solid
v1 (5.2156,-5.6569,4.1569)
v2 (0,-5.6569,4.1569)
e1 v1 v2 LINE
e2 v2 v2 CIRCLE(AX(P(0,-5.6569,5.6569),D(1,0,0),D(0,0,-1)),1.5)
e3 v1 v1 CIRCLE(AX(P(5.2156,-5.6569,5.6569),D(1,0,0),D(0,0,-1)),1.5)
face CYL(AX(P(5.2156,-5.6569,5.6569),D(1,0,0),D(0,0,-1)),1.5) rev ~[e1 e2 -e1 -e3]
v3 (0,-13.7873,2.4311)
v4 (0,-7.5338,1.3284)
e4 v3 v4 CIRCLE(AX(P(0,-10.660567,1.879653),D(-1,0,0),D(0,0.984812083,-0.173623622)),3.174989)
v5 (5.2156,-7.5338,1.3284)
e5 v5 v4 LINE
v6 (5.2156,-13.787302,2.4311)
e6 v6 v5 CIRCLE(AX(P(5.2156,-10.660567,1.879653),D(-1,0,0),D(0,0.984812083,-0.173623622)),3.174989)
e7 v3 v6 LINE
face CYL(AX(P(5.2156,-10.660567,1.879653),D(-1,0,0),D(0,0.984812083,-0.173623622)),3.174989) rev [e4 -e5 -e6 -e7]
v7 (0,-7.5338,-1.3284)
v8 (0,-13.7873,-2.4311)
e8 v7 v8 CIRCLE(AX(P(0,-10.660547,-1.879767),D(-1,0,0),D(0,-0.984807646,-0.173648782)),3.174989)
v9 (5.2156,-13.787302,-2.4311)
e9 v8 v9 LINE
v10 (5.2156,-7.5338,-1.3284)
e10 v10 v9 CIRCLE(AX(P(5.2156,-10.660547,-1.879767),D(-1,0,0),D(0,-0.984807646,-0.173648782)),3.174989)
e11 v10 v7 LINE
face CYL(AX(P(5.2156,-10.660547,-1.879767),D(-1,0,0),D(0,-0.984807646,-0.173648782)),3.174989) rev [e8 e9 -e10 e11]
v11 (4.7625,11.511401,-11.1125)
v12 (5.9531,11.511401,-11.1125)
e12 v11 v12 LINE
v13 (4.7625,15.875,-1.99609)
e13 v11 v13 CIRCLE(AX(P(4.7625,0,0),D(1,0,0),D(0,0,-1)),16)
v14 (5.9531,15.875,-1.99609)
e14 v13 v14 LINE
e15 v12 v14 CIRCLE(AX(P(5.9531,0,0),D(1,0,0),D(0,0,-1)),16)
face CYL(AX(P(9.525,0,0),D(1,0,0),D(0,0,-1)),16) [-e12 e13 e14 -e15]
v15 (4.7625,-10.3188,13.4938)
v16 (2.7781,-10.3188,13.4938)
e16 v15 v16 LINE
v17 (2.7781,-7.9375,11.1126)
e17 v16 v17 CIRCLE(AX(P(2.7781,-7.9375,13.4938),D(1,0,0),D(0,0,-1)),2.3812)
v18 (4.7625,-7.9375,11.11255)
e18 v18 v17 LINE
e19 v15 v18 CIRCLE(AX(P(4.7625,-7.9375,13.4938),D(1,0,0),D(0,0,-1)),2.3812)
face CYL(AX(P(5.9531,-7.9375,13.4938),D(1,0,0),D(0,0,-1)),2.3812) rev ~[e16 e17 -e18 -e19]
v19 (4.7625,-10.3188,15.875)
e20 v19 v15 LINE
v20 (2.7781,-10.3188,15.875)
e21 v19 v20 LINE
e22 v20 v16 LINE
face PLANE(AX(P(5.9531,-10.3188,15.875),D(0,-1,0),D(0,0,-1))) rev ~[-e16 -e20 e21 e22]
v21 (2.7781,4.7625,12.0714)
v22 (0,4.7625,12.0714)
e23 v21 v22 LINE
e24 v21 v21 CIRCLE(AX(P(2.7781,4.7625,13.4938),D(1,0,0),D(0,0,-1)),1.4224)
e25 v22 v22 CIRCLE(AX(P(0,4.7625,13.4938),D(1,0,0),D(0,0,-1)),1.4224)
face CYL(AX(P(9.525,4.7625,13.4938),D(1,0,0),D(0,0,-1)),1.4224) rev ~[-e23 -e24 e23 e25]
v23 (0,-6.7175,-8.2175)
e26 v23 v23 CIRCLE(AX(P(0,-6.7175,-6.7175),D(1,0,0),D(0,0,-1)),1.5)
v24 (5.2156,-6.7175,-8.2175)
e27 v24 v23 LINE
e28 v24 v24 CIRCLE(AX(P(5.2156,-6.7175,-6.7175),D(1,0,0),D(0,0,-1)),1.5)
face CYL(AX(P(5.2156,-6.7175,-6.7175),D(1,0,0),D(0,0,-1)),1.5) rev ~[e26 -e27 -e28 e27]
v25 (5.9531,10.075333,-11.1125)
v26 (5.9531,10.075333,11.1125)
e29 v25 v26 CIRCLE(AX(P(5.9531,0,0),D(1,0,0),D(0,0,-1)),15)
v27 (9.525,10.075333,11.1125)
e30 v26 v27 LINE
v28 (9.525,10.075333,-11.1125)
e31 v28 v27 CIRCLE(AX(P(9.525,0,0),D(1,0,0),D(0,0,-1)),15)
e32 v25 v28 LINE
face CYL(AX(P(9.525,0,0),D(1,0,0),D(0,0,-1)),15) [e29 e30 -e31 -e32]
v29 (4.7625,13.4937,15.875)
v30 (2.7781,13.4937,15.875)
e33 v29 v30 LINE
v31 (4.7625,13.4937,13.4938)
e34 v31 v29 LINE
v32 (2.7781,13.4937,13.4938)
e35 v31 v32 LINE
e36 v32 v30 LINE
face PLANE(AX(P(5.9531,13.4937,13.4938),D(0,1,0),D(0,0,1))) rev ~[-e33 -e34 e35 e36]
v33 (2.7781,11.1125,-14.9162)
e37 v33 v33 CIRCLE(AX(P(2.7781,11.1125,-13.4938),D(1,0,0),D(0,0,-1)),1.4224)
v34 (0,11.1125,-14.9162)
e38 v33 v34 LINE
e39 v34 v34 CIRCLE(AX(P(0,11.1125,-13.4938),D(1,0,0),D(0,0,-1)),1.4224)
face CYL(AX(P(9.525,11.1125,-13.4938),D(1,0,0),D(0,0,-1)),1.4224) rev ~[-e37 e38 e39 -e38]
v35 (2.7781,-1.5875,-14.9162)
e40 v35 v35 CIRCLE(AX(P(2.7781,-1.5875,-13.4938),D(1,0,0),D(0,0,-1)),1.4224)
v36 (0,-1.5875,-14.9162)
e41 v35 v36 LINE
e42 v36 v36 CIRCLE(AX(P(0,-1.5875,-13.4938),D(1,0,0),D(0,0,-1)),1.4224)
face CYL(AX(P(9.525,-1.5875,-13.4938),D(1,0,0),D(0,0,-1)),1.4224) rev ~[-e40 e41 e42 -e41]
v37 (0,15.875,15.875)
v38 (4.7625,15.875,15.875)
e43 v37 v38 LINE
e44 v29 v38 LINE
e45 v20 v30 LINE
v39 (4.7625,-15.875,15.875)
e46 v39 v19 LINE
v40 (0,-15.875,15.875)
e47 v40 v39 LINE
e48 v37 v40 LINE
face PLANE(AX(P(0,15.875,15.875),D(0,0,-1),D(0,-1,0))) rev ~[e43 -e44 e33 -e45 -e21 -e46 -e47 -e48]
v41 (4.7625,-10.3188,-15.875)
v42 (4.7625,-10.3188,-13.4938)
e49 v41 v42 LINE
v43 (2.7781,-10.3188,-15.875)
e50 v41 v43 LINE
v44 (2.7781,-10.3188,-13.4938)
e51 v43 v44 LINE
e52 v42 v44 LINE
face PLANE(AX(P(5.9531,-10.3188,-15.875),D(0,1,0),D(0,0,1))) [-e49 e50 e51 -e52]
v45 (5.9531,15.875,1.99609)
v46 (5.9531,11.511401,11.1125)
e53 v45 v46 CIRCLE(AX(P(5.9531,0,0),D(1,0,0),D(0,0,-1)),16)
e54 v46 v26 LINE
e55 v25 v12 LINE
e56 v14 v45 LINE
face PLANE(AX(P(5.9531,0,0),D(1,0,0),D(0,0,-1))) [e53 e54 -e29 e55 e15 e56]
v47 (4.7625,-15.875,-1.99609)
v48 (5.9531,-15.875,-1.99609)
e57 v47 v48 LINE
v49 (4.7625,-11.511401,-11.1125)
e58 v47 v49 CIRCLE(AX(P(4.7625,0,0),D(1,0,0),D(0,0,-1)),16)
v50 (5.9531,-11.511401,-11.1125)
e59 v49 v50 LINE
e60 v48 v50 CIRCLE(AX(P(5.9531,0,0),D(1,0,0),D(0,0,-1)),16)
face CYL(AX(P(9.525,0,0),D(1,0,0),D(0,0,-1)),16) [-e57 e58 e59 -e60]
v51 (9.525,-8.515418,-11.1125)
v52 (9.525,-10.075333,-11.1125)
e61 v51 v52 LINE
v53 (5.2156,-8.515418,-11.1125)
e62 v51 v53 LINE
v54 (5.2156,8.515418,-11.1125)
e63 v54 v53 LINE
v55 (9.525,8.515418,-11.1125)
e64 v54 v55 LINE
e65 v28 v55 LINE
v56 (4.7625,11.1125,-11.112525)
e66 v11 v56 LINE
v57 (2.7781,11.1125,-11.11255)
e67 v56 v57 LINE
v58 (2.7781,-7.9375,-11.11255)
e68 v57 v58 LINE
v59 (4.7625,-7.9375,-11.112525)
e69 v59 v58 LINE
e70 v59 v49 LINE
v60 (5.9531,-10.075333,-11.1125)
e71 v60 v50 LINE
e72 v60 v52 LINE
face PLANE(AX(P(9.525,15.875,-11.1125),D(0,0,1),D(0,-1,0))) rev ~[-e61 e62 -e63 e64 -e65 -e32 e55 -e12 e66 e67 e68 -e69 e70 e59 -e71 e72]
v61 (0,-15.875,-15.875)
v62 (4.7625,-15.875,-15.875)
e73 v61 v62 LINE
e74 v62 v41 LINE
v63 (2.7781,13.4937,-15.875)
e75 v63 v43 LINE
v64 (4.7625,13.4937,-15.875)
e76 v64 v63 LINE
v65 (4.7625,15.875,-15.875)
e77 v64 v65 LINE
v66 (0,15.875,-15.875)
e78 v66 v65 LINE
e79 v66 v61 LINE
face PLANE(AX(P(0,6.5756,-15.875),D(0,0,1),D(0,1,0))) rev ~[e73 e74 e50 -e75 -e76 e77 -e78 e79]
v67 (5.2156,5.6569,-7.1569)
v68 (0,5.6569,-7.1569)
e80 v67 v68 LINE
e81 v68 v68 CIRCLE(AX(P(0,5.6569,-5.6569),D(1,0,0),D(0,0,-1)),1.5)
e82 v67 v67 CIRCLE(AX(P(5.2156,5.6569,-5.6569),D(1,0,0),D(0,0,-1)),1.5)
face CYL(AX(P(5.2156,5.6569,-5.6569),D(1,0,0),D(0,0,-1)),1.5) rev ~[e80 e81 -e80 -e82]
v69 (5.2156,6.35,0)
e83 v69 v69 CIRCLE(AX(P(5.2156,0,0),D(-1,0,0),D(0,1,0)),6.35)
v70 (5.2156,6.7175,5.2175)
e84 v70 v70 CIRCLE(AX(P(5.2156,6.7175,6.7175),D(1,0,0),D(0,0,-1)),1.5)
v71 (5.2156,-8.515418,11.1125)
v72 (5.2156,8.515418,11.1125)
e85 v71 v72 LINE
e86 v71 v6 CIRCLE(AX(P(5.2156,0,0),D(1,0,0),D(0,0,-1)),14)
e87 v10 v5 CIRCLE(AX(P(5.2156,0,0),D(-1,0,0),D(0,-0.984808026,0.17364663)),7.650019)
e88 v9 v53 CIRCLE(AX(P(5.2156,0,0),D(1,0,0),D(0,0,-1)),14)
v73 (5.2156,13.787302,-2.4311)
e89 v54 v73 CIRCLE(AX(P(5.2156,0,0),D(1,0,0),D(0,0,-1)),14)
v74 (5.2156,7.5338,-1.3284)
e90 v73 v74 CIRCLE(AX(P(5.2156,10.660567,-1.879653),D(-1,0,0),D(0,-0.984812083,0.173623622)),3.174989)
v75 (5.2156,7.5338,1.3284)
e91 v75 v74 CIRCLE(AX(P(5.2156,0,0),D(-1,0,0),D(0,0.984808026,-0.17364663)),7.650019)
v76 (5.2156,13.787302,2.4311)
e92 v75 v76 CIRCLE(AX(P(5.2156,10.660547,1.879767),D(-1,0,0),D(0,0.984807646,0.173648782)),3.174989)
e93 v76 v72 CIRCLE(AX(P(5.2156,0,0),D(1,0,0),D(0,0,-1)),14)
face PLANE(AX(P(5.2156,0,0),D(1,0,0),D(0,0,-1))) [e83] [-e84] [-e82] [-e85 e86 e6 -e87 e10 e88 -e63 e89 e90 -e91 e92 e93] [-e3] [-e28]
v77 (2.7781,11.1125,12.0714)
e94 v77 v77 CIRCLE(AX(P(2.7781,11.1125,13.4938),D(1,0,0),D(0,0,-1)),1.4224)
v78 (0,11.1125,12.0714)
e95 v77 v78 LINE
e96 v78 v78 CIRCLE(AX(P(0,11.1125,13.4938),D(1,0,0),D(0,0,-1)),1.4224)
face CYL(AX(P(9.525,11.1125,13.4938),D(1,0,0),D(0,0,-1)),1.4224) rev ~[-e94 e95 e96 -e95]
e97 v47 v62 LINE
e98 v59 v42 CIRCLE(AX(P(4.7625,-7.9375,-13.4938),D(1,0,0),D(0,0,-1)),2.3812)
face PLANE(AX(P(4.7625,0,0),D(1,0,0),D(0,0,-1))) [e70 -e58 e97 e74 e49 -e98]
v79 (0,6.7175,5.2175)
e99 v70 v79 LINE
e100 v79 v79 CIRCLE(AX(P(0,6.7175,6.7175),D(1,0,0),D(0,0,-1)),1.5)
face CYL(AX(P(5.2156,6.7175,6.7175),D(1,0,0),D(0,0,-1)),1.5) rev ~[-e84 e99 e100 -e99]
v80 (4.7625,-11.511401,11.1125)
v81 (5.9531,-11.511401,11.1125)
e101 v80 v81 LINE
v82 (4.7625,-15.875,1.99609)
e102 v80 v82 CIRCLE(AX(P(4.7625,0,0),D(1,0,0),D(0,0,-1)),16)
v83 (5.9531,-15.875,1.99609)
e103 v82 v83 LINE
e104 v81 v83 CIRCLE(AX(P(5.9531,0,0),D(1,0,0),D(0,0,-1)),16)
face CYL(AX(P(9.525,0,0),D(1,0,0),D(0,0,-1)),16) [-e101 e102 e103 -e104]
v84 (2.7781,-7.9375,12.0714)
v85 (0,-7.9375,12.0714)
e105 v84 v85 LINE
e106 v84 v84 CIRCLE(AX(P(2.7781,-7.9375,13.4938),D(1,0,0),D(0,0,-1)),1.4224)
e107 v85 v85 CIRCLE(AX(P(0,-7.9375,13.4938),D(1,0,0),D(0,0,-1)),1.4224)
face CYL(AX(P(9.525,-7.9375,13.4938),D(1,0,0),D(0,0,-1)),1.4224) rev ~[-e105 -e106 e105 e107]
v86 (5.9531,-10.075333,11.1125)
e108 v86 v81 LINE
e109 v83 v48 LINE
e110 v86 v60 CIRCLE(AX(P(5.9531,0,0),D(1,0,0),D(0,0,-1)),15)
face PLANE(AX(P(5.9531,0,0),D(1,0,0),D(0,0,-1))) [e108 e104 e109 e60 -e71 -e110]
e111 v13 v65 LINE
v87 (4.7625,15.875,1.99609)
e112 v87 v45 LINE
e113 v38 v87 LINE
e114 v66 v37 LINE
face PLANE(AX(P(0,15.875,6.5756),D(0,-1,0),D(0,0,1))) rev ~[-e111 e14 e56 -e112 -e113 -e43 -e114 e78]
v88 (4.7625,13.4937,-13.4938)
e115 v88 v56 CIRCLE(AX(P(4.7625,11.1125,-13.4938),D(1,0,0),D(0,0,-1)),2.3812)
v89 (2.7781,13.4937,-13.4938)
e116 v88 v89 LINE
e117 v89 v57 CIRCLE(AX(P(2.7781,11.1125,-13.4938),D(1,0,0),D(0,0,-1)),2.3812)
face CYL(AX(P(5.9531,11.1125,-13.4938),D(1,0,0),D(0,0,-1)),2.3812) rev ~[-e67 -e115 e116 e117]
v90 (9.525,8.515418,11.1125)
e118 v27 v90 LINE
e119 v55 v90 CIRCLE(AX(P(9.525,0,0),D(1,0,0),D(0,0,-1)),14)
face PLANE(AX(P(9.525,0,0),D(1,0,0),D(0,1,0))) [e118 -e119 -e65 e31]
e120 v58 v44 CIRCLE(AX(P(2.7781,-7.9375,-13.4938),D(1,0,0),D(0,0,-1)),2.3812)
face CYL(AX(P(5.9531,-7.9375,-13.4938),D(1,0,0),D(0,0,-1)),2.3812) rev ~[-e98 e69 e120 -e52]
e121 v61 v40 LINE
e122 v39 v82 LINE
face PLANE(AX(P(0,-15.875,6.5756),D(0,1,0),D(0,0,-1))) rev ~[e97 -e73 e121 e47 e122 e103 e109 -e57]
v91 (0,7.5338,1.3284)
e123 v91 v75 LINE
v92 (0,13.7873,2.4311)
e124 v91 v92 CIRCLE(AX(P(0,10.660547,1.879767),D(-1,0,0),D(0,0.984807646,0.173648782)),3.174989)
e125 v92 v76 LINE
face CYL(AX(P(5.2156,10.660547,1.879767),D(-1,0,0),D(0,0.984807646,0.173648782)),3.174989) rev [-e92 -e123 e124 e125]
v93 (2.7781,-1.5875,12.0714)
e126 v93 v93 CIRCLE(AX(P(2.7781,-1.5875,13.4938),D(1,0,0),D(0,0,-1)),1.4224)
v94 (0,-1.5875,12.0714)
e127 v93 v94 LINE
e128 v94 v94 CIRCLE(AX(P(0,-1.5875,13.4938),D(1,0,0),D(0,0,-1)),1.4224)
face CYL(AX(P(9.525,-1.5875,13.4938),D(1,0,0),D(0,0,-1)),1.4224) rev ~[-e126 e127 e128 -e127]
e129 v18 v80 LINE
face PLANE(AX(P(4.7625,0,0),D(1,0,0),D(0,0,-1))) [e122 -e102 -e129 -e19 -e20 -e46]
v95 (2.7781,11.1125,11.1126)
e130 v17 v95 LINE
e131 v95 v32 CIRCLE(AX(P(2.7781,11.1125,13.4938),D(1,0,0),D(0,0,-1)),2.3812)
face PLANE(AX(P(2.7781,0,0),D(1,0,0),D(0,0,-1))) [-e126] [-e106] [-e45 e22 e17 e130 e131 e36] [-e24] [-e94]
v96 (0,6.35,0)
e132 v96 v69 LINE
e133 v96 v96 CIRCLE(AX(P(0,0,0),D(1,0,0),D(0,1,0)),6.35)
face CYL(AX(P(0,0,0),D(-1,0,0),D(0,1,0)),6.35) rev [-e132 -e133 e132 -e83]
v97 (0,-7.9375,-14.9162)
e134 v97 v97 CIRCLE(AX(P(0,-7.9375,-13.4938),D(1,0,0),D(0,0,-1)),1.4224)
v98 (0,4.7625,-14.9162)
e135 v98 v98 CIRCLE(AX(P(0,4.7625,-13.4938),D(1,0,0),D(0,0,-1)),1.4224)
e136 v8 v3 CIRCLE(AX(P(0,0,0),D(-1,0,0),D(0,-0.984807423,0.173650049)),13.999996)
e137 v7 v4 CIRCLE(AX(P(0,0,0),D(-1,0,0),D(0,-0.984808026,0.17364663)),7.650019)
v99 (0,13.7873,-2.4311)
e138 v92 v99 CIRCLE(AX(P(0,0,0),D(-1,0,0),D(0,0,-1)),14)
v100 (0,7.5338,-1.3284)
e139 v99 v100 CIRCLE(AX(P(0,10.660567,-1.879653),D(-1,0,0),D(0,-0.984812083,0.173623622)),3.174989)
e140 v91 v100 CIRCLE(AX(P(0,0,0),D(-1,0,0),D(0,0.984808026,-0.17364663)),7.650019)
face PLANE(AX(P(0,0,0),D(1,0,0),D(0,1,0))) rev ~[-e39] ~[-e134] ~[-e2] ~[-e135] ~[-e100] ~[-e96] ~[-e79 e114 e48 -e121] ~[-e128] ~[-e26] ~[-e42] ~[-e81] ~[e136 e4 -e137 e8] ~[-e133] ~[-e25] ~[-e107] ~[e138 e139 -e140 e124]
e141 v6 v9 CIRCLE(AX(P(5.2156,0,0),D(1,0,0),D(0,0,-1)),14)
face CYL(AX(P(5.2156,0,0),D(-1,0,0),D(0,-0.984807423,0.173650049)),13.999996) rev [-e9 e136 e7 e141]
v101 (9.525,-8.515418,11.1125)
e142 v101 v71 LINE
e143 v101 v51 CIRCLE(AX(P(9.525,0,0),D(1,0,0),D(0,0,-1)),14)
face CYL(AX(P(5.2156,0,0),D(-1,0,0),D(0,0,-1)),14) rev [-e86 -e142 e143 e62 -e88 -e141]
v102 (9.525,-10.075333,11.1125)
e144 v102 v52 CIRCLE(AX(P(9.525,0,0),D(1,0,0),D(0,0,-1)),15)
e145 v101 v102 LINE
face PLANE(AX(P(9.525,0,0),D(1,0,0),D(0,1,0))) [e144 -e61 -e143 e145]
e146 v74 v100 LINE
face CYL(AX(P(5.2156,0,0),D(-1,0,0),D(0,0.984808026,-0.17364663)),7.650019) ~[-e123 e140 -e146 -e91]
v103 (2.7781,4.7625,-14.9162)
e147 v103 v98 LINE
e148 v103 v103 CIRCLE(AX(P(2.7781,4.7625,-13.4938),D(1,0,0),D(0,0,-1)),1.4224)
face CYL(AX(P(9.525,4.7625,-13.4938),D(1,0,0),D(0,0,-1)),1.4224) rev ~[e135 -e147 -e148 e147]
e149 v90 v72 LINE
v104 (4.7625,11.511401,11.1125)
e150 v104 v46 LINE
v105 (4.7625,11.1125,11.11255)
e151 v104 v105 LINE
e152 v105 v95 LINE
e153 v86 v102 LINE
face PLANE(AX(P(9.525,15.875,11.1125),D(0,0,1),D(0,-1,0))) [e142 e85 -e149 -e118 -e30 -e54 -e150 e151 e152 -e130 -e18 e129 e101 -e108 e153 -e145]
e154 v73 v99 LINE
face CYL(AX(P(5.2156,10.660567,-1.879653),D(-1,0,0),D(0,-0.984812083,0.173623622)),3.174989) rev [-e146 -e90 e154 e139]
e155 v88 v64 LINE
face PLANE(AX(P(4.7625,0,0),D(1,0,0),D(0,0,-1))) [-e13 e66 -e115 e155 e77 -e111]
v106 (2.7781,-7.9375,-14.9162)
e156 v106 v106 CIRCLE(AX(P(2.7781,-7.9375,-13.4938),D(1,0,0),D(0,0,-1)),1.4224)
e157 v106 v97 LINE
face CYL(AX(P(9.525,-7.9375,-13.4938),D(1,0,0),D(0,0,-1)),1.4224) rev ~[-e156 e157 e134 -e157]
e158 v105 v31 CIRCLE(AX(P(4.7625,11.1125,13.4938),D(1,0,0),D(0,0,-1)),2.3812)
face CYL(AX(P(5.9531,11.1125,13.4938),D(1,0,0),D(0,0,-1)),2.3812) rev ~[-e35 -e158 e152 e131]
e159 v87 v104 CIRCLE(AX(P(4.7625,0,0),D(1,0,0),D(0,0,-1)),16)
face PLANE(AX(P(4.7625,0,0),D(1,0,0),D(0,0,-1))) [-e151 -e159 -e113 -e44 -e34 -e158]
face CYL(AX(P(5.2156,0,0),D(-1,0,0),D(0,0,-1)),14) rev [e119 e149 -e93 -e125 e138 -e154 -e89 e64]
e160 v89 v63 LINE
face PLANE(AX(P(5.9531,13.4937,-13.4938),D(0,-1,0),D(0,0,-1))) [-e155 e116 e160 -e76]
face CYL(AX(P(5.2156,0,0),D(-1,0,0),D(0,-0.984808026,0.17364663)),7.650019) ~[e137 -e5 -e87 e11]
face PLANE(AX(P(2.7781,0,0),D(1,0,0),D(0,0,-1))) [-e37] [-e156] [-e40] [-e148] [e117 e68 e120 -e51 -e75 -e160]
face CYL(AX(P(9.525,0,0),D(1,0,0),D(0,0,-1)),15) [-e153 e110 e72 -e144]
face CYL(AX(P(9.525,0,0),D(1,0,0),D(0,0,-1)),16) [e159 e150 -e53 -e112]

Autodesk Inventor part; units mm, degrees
ref_plane "YZ Plane" through (0, 0, 0) normal (1, 0, 0) x (0, 1, 0)
ref_plane "XZ Plane" through (0, 0, 0) normal (0, 1, 0) x (-1, 0, 0)
ref_plane "XY Plane" through (0, 0, 0) normal (0, 0, 1) x (1, 0, 0)
sketch "Sketch4" plane through (0, 0, 0) normal (1, 0, 0) x (0, 1, 0)
  line L0 (15.875, 15.875) -> (-15.875, 15.875)
  line L1 (-15.875, 15.875) -> (-15.875, -15.875)
  line L2 (-15.875, -15.875) -> (15.875, -15.875)
  line L3 (15.875, -15.875) -> (15.875, 15.875)
  line L4 (15.875, 15.875) -> (-15.875, -15.875) construction
  line L5 (-15.875, 15.875) -> (15.875, -15.875) construction
  circle A0 centre (0, 0) radius 6.35
  line L6 (0, 0) -> (0, 15.875) construction
  line L7 (0, 22.4506) -> (-22.4506, 0)
  line L8 (-22.4506, 0) -> (0, -22.4506)
  line L9 (0, -22.4506) -> (22.4506, 0)
  line L10 (22.4506, 0) -> (0, 22.4506)
  line L11 (0, 22.4506) -> (0, -22.4506) construction
  line L12 (-22.4506, 0) -> (22.4506, 0) construction
  point P0 (15.875, 6.5756)
  point P1 (6.5756, 15.875)
  point P2 (-6.5756, 15.875)
  point P3 (-15.875, 6.5756)
  point P4 (-15.875, -6.5756)
  point P5 (-6.5756, -15.875)
  point P6 (6.5756, -15.875)
  point P7 (15.875, -6.5756)
  dimension "d37" = 31.75
  dimension "d38" = 31.75
  dimension "d39" = 12.7
  dimension "d126" = 31.75
  dimension "d127" = 31.75
  dimension "d128" = 45
extrude "Extrusion5" add sketch "Sketch4" along normal blind 9.525 contours L3 L10 L0 | L10 L3 L9 L2 L8 L1 L7 L0 | L7 L1 L0 | L3 L2 L9 | L8 L2 L1
sketch "Sketch5" plane through (9.525, 0, 0) normal (1, 0, 0) x (0, 0, -1)
  circle A0 centre (0, 0) radius 25.4
  circle A1 centre (0, 0) radius 15
  circle A2 centre (0, 0) radius 14
  circle A3 centre (0, 0) radius 16
  dimension "d50" = 50.8
  dimension "d51" = 30
  dimension "d52" = 1
  dimension "d55" = 1
extrude "Extrusion6" cut sketch "Sketch5" against normal blind 3.5719 contours A0 | A3
extrude "Extrusion7" cut sketch "Sketch5" against normal blind 4.7625 contours A0
sketch "Sketch7" plane through (9.525, 0, 0) normal (1, 0, 0) x (0, 0, -1)
  circle A0 centre (0, 0) radius 14
  circle A1 centre (0, 0) radius 15 projected
  dimension "d97" = 1
extrude "Extrusion10" cut sketch "Sketch7" against normal blind 4.3094 contours A0
sketch "Sketch8" plane through (5.2156, 0, 0) normal (1, 0, 0) x (0, 0, -1)
  circle A0 centre (0, 0) radius 8 construction
  line L0 (0, 0) -> (8, 0) construction
  line L1 (0, 0) -> (5.6569, 5.6569) construction
  circle A1 centre (5.6569, 5.6569) radius 1.5
  circle A2 centre (0, 0) radius 9.5 construction
  line L2 (0, 0) -> (6.7175, -6.7175) construction
  circle A3 centre (6.7175, -6.7175) radius 1.5
  circle A4 centre (-6.7175, 6.7175) radius 1.5
  circle A5 centre (-5.6569, -5.6569) radius 1.5
  arc A6 (-1.8797, -10.6605) -> (1.8797, -10.6605) centre (0, 0) ccw construction
  arc A7 (-2.4311, -13.7873) -> (2.4311, -13.7873) centre (0, 0) ccw
  arc A8 (-1.3284, -7.5338) -> (1.3284, -7.5338) centre (0, 0) ccw
  arc A9 (-1.3284, -7.5338) -> (-2.4311, -13.7873) centre (-1.8797, -10.6605) ccw
  arc A10 (2.4311, -13.7873) -> (1.3284, -7.5338) centre (1.8797, -10.6605) ccw
  circle A11 centre (0, 0) radius 14 projected
  line L3 (0, -10.825) -> (0, 0) construction
  line L4 (1.8797, -10.6605) -> (0, 0) construction
  arc A12 (1.8797, 10.6605) -> (-1.8797, 10.6605) centre (0, 0) ccw construction
  arc A13 (-2.4311, 13.7873) -> (-1.3284, 7.5338) centre (-1.8797, 10.6605) ccw
  arc A14 (2.4311, 13.7873) -> (-2.4311, 13.7873) centre (0, 0) ccw
  arc A15 (1.3284, 7.5338) -> (2.4311, 13.7873) centre (1.8797, 10.6605) ccw
  arc A16 (1.3284, 7.5338) -> (-1.3284, 7.5338) centre (0, 0) ccw
  point P0 (0, 10.825)
  point P1 (2.4311, 13.7873)
  point P2 (-2.4311, 13.7873)
  dimension "d150" = 19
  dimension "d70" = 16
  dimension "d71" = 3
  dimension "d72" = 45
  dimension "d151" = 3
  dimension "d154" = 360
  dimension "d169" = 3.175
  dimension "d170" = 45
  dimension "d171" = 10
  dimension "d174" = 360
extrude "Extrusion11" cut sketch "Sketch8" along normal through all both and the other way through all contours A1 | A3 | A4 | A5 | A9 A8 A10 A7 | A11 A15 A16 A13
sketch "Sketch14" plane through (9.525, 0, 0) normal (1, 0, 0) x (0, 0, -1)
  line L0 (15.875, -15.875) -> (15.875, 15.875) projected
  line L1 (-15.875, -15.875) -> (15.875, -15.875) projected
  line L2 (15.875, 15.875) -> (11.1125, 15.875)
  line L3 (11.1125, 15.875) -> (11.1125, -15.875)
  line L4 (11.1125, -15.875) -> (15.875, -15.875)
  line L5 (15.875, -15.875) -> (15.875, 15.875)
  line L6 (15.875, 15.875) -> (-15.875, 15.875) projected
  line L7 (-1.9961, -15.875) -> (-15.875, -15.875) projected
  line L8 (-15.875, 15.875) -> (-11.1125, 15.875)
  line L9 (-11.1125, 15.875) -> (-11.1125, -15.875)
  line L10 (-11.1125, -15.875) -> (-15.875, -15.875)
  line L11 (-15.875, -15.875) -> (-15.875, 15.875)
  point P0 (0, 0)
  point P1 (-11.1125, -15.875)
  dimension "d206" = 4.7625
  dimension "d207" = 4.7625
extrude "Extrusion17" cut sketch "Sketch14" against normal up to surface (4.7625 mm away) contours L1 L3 L2 L0 | L9 L1 L11 L6
sketch "Sketch15" plane through (9.525, 0, 0) normal (1, 0, 0) x (0, 0, -1)
  line L0 (15.875, -15.875) -> (15.875, 15.875) projected
  line L1 (15.875, 13.4938) -> (11.1125, 13.4938)
  line L2 (11.1125, 13.4938) -> (11.1125, -13.4938)
  line L3 (11.1125, -13.4938) -> (15.875, -13.4938)
  line L4 (15.875, -13.4938) -> (15.875, 13.4938)
  line L5 (-1.9961, 15.875) -> (1.9961, 15.875) projected
  line L6 (0, 15.875) -> (0, -15.875) construction
  line L7 (-15.875, -15.875) -> (15.875, -15.875) projected
  line L8 (13.4938, 13.4938) -> (13.4938, -13.4938) construction
  circle A0 centre (13.4938, 11.1125) radius 1.4224
  circle A1 centre (13.4938, 4.7625) radius 1.4224
  circle A2 centre (13.4938, -1.5875) radius 1.4224
  circle A3 centre (13.4938, -7.9375) radius 1.4224
  line L9 (15.875, 0) -> (11.1125, 0) construction
  line L10 (-15.875, 13.4938) -> (-11.1125, 13.4938)
  line L11 (-11.1125, 13.4938) -> (-11.1125, -13.4938)
  line L12 (-11.1125, -13.4938) -> (-15.875, -13.4938)
  line L13 (-15.875, -13.4938) -> (-15.875, 13.4938)
  line L14 (-13.4938, 13.4938) -> (-13.4938, -13.4938) construction
  circle A4 centre (-13.4938, 11.1125) radius 1.4224
  circle A5 centre (-13.4938, 4.7625) radius 1.4224
  circle A6 centre (-13.4938, -1.5875) radius 1.4224
  circle A7 centre (-13.4938, -7.9375) radius 1.4224
  line L15 (-15.875, 0) -> (-11.1125, 0) construction
  point P0 (0, 0)
  point P1 (0, 0)
  dimension "d210" = 4.7625
  dimension "d211" = 26.9875
  dimension "d212" = 2.8448
  dimension "d213" = 2.3813
  dimension "d216" = 6.35
extrude "Extrusion18" cut sketch "Sketch15" against normal through all contours A0 | A1 | A2 | A3 | A4 | A5 | A6 | A7
sketch "Sketch16" plane through (5.9531, 0, 0) normal (1, 0, 0) x (0, 0, -1)
  circle A0 centre (-13.4938, -1.5875) radius 1.4224 construction
  circle A1 centre (-13.4938, 4.7625) radius 1.4224 construction
  circle A2 centre (-13.4938, -7.9375) radius 1.4224 construction
  circle A3 centre (-13.4938, 11.1125) radius 1.4224 construction
  line L0 (-1.9961, -15.875) -> (-15.875, -15.875) construction
  arc A4 (-11.1125, -11.5114) -> (-1.9961, -15.875) centre (0, 0) ccw construction
  line L1 (-11.1125, 11.5114) -> (-11.1125, -11.5114) projected
  arc A5 (-1.9961, 15.875) -> (-11.1125, 11.5114) centre (0, 0) ccw construction
  line L2 (-15.875, 15.875) -> (-1.9961, 15.875) construction
  line L3 (-15.875, -15.875) -> (-15.875, 15.875) construction
  circle A6 centre (13.4938, 4.7625) radius 1.4224 construction
  circle A7 centre (13.4938, -1.5875) radius 1.4224 construction
  circle A8 centre (13.4938, 11.1125) radius 1.4224 construction
  circle A9 centre (13.4938, -7.9375) radius 1.4224 construction
  line L4 (1.9961, 15.875) -> (15.875, 15.875) construction
  arc A10 (11.1125, 11.5114) -> (1.9961, 15.875) centre (0, 0) ccw construction
  line L5 (11.1125, -11.5114) -> (11.1125, 11.5114) projected
  arc A11 (1.9961, -15.875) -> (11.1125, -11.5114) centre (0, 0) ccw construction
  line L6 (15.875, -15.875) -> (1.9961, -15.875) construction
  line L7 (15.875, 15.875) -> (15.875, -15.875) construction
  circle A12 centre (-13.4938, -7.9375) radius 2.3812
  circle A13 centre (-13.4938, -1.5875) radius 2.3812
  circle A14 centre (-13.4938, 4.7625) radius 2.3812
  circle A15 centre (-13.4938, 11.1125) radius 2.3812
  circle A16 centre (13.4938, -7.9375) radius 2.3812
  circle A17 centre (13.4938, -1.5875) radius 2.3812
  circle A18 centre (13.4938, 4.7625) radius 2.3812
  circle A19 centre (13.4938, 11.1125) radius 2.3812
  line L8 (15.875, 15.875) -> (15.875, -15.875) projected
  line L9 (13.4938, 13.4937) -> (15.875, 13.4937)
  line L10 (15.875, 13.4937) -> (15.875, -10.3188)
  line L11 (15.875, -10.3188) -> (13.4938, -10.3188)
  line L12 (13.4938, -10.3188) -> (13.4938, 13.4937) construction
  line L13 (-15.875, -15.875) -> (-15.875, 15.875) projected
  line L14 (-13.4938, 13.4937) -> (-15.875, 13.4937)
  line L15 (-15.875, 13.4937) -> (-15.875, -10.3188)
  line L16 (-15.875, -10.3188) -> (-13.4938, -10.3188)
  line L17 (-13.4938, -10.3188) -> (-13.4938, 13.4937) construction
  point P0 (-15.875, -7.9375)
  point P1 (-15.875, -1.5875)
  point P2 (-11.1125, -7.9375)
  point P3 (-11.1125, -1.5875)
  point P4 (-15.875, 4.7625)
  point P5 (-11.1125, 4.7625)
  point P6 (-15.875, 11.1125)
  point P7 (-11.1125, 11.1125)
  point P8 (15.875, -7.9375)
  point P9 (15.875, -1.5875)
  point P10 (11.1125, -1.5875)
  point P11 (11.1125, -7.9375)
  point P12 (15.875, 4.7625)
  point P13 (11.1125, 4.7625)
  point P14 (15.875, 11.1125)
  point P15 (11.1125, 11.1125)
  dimension "d223" = 4.7625
  dimension "d224" = 6.35
  dimension "d225" = 26.9875
  dimension "d228" = 6.35
  dimension "d231" = 26.9875
extrude "Extrusion19" cut sketch "Sketch16" against normal blind 3.175
equation "\"d37\" = d38"
equation "\"d126\" = d37"
equation "\"d127\" = d126"
properties part number "Motor Plate" material "Aluminum 6061"
